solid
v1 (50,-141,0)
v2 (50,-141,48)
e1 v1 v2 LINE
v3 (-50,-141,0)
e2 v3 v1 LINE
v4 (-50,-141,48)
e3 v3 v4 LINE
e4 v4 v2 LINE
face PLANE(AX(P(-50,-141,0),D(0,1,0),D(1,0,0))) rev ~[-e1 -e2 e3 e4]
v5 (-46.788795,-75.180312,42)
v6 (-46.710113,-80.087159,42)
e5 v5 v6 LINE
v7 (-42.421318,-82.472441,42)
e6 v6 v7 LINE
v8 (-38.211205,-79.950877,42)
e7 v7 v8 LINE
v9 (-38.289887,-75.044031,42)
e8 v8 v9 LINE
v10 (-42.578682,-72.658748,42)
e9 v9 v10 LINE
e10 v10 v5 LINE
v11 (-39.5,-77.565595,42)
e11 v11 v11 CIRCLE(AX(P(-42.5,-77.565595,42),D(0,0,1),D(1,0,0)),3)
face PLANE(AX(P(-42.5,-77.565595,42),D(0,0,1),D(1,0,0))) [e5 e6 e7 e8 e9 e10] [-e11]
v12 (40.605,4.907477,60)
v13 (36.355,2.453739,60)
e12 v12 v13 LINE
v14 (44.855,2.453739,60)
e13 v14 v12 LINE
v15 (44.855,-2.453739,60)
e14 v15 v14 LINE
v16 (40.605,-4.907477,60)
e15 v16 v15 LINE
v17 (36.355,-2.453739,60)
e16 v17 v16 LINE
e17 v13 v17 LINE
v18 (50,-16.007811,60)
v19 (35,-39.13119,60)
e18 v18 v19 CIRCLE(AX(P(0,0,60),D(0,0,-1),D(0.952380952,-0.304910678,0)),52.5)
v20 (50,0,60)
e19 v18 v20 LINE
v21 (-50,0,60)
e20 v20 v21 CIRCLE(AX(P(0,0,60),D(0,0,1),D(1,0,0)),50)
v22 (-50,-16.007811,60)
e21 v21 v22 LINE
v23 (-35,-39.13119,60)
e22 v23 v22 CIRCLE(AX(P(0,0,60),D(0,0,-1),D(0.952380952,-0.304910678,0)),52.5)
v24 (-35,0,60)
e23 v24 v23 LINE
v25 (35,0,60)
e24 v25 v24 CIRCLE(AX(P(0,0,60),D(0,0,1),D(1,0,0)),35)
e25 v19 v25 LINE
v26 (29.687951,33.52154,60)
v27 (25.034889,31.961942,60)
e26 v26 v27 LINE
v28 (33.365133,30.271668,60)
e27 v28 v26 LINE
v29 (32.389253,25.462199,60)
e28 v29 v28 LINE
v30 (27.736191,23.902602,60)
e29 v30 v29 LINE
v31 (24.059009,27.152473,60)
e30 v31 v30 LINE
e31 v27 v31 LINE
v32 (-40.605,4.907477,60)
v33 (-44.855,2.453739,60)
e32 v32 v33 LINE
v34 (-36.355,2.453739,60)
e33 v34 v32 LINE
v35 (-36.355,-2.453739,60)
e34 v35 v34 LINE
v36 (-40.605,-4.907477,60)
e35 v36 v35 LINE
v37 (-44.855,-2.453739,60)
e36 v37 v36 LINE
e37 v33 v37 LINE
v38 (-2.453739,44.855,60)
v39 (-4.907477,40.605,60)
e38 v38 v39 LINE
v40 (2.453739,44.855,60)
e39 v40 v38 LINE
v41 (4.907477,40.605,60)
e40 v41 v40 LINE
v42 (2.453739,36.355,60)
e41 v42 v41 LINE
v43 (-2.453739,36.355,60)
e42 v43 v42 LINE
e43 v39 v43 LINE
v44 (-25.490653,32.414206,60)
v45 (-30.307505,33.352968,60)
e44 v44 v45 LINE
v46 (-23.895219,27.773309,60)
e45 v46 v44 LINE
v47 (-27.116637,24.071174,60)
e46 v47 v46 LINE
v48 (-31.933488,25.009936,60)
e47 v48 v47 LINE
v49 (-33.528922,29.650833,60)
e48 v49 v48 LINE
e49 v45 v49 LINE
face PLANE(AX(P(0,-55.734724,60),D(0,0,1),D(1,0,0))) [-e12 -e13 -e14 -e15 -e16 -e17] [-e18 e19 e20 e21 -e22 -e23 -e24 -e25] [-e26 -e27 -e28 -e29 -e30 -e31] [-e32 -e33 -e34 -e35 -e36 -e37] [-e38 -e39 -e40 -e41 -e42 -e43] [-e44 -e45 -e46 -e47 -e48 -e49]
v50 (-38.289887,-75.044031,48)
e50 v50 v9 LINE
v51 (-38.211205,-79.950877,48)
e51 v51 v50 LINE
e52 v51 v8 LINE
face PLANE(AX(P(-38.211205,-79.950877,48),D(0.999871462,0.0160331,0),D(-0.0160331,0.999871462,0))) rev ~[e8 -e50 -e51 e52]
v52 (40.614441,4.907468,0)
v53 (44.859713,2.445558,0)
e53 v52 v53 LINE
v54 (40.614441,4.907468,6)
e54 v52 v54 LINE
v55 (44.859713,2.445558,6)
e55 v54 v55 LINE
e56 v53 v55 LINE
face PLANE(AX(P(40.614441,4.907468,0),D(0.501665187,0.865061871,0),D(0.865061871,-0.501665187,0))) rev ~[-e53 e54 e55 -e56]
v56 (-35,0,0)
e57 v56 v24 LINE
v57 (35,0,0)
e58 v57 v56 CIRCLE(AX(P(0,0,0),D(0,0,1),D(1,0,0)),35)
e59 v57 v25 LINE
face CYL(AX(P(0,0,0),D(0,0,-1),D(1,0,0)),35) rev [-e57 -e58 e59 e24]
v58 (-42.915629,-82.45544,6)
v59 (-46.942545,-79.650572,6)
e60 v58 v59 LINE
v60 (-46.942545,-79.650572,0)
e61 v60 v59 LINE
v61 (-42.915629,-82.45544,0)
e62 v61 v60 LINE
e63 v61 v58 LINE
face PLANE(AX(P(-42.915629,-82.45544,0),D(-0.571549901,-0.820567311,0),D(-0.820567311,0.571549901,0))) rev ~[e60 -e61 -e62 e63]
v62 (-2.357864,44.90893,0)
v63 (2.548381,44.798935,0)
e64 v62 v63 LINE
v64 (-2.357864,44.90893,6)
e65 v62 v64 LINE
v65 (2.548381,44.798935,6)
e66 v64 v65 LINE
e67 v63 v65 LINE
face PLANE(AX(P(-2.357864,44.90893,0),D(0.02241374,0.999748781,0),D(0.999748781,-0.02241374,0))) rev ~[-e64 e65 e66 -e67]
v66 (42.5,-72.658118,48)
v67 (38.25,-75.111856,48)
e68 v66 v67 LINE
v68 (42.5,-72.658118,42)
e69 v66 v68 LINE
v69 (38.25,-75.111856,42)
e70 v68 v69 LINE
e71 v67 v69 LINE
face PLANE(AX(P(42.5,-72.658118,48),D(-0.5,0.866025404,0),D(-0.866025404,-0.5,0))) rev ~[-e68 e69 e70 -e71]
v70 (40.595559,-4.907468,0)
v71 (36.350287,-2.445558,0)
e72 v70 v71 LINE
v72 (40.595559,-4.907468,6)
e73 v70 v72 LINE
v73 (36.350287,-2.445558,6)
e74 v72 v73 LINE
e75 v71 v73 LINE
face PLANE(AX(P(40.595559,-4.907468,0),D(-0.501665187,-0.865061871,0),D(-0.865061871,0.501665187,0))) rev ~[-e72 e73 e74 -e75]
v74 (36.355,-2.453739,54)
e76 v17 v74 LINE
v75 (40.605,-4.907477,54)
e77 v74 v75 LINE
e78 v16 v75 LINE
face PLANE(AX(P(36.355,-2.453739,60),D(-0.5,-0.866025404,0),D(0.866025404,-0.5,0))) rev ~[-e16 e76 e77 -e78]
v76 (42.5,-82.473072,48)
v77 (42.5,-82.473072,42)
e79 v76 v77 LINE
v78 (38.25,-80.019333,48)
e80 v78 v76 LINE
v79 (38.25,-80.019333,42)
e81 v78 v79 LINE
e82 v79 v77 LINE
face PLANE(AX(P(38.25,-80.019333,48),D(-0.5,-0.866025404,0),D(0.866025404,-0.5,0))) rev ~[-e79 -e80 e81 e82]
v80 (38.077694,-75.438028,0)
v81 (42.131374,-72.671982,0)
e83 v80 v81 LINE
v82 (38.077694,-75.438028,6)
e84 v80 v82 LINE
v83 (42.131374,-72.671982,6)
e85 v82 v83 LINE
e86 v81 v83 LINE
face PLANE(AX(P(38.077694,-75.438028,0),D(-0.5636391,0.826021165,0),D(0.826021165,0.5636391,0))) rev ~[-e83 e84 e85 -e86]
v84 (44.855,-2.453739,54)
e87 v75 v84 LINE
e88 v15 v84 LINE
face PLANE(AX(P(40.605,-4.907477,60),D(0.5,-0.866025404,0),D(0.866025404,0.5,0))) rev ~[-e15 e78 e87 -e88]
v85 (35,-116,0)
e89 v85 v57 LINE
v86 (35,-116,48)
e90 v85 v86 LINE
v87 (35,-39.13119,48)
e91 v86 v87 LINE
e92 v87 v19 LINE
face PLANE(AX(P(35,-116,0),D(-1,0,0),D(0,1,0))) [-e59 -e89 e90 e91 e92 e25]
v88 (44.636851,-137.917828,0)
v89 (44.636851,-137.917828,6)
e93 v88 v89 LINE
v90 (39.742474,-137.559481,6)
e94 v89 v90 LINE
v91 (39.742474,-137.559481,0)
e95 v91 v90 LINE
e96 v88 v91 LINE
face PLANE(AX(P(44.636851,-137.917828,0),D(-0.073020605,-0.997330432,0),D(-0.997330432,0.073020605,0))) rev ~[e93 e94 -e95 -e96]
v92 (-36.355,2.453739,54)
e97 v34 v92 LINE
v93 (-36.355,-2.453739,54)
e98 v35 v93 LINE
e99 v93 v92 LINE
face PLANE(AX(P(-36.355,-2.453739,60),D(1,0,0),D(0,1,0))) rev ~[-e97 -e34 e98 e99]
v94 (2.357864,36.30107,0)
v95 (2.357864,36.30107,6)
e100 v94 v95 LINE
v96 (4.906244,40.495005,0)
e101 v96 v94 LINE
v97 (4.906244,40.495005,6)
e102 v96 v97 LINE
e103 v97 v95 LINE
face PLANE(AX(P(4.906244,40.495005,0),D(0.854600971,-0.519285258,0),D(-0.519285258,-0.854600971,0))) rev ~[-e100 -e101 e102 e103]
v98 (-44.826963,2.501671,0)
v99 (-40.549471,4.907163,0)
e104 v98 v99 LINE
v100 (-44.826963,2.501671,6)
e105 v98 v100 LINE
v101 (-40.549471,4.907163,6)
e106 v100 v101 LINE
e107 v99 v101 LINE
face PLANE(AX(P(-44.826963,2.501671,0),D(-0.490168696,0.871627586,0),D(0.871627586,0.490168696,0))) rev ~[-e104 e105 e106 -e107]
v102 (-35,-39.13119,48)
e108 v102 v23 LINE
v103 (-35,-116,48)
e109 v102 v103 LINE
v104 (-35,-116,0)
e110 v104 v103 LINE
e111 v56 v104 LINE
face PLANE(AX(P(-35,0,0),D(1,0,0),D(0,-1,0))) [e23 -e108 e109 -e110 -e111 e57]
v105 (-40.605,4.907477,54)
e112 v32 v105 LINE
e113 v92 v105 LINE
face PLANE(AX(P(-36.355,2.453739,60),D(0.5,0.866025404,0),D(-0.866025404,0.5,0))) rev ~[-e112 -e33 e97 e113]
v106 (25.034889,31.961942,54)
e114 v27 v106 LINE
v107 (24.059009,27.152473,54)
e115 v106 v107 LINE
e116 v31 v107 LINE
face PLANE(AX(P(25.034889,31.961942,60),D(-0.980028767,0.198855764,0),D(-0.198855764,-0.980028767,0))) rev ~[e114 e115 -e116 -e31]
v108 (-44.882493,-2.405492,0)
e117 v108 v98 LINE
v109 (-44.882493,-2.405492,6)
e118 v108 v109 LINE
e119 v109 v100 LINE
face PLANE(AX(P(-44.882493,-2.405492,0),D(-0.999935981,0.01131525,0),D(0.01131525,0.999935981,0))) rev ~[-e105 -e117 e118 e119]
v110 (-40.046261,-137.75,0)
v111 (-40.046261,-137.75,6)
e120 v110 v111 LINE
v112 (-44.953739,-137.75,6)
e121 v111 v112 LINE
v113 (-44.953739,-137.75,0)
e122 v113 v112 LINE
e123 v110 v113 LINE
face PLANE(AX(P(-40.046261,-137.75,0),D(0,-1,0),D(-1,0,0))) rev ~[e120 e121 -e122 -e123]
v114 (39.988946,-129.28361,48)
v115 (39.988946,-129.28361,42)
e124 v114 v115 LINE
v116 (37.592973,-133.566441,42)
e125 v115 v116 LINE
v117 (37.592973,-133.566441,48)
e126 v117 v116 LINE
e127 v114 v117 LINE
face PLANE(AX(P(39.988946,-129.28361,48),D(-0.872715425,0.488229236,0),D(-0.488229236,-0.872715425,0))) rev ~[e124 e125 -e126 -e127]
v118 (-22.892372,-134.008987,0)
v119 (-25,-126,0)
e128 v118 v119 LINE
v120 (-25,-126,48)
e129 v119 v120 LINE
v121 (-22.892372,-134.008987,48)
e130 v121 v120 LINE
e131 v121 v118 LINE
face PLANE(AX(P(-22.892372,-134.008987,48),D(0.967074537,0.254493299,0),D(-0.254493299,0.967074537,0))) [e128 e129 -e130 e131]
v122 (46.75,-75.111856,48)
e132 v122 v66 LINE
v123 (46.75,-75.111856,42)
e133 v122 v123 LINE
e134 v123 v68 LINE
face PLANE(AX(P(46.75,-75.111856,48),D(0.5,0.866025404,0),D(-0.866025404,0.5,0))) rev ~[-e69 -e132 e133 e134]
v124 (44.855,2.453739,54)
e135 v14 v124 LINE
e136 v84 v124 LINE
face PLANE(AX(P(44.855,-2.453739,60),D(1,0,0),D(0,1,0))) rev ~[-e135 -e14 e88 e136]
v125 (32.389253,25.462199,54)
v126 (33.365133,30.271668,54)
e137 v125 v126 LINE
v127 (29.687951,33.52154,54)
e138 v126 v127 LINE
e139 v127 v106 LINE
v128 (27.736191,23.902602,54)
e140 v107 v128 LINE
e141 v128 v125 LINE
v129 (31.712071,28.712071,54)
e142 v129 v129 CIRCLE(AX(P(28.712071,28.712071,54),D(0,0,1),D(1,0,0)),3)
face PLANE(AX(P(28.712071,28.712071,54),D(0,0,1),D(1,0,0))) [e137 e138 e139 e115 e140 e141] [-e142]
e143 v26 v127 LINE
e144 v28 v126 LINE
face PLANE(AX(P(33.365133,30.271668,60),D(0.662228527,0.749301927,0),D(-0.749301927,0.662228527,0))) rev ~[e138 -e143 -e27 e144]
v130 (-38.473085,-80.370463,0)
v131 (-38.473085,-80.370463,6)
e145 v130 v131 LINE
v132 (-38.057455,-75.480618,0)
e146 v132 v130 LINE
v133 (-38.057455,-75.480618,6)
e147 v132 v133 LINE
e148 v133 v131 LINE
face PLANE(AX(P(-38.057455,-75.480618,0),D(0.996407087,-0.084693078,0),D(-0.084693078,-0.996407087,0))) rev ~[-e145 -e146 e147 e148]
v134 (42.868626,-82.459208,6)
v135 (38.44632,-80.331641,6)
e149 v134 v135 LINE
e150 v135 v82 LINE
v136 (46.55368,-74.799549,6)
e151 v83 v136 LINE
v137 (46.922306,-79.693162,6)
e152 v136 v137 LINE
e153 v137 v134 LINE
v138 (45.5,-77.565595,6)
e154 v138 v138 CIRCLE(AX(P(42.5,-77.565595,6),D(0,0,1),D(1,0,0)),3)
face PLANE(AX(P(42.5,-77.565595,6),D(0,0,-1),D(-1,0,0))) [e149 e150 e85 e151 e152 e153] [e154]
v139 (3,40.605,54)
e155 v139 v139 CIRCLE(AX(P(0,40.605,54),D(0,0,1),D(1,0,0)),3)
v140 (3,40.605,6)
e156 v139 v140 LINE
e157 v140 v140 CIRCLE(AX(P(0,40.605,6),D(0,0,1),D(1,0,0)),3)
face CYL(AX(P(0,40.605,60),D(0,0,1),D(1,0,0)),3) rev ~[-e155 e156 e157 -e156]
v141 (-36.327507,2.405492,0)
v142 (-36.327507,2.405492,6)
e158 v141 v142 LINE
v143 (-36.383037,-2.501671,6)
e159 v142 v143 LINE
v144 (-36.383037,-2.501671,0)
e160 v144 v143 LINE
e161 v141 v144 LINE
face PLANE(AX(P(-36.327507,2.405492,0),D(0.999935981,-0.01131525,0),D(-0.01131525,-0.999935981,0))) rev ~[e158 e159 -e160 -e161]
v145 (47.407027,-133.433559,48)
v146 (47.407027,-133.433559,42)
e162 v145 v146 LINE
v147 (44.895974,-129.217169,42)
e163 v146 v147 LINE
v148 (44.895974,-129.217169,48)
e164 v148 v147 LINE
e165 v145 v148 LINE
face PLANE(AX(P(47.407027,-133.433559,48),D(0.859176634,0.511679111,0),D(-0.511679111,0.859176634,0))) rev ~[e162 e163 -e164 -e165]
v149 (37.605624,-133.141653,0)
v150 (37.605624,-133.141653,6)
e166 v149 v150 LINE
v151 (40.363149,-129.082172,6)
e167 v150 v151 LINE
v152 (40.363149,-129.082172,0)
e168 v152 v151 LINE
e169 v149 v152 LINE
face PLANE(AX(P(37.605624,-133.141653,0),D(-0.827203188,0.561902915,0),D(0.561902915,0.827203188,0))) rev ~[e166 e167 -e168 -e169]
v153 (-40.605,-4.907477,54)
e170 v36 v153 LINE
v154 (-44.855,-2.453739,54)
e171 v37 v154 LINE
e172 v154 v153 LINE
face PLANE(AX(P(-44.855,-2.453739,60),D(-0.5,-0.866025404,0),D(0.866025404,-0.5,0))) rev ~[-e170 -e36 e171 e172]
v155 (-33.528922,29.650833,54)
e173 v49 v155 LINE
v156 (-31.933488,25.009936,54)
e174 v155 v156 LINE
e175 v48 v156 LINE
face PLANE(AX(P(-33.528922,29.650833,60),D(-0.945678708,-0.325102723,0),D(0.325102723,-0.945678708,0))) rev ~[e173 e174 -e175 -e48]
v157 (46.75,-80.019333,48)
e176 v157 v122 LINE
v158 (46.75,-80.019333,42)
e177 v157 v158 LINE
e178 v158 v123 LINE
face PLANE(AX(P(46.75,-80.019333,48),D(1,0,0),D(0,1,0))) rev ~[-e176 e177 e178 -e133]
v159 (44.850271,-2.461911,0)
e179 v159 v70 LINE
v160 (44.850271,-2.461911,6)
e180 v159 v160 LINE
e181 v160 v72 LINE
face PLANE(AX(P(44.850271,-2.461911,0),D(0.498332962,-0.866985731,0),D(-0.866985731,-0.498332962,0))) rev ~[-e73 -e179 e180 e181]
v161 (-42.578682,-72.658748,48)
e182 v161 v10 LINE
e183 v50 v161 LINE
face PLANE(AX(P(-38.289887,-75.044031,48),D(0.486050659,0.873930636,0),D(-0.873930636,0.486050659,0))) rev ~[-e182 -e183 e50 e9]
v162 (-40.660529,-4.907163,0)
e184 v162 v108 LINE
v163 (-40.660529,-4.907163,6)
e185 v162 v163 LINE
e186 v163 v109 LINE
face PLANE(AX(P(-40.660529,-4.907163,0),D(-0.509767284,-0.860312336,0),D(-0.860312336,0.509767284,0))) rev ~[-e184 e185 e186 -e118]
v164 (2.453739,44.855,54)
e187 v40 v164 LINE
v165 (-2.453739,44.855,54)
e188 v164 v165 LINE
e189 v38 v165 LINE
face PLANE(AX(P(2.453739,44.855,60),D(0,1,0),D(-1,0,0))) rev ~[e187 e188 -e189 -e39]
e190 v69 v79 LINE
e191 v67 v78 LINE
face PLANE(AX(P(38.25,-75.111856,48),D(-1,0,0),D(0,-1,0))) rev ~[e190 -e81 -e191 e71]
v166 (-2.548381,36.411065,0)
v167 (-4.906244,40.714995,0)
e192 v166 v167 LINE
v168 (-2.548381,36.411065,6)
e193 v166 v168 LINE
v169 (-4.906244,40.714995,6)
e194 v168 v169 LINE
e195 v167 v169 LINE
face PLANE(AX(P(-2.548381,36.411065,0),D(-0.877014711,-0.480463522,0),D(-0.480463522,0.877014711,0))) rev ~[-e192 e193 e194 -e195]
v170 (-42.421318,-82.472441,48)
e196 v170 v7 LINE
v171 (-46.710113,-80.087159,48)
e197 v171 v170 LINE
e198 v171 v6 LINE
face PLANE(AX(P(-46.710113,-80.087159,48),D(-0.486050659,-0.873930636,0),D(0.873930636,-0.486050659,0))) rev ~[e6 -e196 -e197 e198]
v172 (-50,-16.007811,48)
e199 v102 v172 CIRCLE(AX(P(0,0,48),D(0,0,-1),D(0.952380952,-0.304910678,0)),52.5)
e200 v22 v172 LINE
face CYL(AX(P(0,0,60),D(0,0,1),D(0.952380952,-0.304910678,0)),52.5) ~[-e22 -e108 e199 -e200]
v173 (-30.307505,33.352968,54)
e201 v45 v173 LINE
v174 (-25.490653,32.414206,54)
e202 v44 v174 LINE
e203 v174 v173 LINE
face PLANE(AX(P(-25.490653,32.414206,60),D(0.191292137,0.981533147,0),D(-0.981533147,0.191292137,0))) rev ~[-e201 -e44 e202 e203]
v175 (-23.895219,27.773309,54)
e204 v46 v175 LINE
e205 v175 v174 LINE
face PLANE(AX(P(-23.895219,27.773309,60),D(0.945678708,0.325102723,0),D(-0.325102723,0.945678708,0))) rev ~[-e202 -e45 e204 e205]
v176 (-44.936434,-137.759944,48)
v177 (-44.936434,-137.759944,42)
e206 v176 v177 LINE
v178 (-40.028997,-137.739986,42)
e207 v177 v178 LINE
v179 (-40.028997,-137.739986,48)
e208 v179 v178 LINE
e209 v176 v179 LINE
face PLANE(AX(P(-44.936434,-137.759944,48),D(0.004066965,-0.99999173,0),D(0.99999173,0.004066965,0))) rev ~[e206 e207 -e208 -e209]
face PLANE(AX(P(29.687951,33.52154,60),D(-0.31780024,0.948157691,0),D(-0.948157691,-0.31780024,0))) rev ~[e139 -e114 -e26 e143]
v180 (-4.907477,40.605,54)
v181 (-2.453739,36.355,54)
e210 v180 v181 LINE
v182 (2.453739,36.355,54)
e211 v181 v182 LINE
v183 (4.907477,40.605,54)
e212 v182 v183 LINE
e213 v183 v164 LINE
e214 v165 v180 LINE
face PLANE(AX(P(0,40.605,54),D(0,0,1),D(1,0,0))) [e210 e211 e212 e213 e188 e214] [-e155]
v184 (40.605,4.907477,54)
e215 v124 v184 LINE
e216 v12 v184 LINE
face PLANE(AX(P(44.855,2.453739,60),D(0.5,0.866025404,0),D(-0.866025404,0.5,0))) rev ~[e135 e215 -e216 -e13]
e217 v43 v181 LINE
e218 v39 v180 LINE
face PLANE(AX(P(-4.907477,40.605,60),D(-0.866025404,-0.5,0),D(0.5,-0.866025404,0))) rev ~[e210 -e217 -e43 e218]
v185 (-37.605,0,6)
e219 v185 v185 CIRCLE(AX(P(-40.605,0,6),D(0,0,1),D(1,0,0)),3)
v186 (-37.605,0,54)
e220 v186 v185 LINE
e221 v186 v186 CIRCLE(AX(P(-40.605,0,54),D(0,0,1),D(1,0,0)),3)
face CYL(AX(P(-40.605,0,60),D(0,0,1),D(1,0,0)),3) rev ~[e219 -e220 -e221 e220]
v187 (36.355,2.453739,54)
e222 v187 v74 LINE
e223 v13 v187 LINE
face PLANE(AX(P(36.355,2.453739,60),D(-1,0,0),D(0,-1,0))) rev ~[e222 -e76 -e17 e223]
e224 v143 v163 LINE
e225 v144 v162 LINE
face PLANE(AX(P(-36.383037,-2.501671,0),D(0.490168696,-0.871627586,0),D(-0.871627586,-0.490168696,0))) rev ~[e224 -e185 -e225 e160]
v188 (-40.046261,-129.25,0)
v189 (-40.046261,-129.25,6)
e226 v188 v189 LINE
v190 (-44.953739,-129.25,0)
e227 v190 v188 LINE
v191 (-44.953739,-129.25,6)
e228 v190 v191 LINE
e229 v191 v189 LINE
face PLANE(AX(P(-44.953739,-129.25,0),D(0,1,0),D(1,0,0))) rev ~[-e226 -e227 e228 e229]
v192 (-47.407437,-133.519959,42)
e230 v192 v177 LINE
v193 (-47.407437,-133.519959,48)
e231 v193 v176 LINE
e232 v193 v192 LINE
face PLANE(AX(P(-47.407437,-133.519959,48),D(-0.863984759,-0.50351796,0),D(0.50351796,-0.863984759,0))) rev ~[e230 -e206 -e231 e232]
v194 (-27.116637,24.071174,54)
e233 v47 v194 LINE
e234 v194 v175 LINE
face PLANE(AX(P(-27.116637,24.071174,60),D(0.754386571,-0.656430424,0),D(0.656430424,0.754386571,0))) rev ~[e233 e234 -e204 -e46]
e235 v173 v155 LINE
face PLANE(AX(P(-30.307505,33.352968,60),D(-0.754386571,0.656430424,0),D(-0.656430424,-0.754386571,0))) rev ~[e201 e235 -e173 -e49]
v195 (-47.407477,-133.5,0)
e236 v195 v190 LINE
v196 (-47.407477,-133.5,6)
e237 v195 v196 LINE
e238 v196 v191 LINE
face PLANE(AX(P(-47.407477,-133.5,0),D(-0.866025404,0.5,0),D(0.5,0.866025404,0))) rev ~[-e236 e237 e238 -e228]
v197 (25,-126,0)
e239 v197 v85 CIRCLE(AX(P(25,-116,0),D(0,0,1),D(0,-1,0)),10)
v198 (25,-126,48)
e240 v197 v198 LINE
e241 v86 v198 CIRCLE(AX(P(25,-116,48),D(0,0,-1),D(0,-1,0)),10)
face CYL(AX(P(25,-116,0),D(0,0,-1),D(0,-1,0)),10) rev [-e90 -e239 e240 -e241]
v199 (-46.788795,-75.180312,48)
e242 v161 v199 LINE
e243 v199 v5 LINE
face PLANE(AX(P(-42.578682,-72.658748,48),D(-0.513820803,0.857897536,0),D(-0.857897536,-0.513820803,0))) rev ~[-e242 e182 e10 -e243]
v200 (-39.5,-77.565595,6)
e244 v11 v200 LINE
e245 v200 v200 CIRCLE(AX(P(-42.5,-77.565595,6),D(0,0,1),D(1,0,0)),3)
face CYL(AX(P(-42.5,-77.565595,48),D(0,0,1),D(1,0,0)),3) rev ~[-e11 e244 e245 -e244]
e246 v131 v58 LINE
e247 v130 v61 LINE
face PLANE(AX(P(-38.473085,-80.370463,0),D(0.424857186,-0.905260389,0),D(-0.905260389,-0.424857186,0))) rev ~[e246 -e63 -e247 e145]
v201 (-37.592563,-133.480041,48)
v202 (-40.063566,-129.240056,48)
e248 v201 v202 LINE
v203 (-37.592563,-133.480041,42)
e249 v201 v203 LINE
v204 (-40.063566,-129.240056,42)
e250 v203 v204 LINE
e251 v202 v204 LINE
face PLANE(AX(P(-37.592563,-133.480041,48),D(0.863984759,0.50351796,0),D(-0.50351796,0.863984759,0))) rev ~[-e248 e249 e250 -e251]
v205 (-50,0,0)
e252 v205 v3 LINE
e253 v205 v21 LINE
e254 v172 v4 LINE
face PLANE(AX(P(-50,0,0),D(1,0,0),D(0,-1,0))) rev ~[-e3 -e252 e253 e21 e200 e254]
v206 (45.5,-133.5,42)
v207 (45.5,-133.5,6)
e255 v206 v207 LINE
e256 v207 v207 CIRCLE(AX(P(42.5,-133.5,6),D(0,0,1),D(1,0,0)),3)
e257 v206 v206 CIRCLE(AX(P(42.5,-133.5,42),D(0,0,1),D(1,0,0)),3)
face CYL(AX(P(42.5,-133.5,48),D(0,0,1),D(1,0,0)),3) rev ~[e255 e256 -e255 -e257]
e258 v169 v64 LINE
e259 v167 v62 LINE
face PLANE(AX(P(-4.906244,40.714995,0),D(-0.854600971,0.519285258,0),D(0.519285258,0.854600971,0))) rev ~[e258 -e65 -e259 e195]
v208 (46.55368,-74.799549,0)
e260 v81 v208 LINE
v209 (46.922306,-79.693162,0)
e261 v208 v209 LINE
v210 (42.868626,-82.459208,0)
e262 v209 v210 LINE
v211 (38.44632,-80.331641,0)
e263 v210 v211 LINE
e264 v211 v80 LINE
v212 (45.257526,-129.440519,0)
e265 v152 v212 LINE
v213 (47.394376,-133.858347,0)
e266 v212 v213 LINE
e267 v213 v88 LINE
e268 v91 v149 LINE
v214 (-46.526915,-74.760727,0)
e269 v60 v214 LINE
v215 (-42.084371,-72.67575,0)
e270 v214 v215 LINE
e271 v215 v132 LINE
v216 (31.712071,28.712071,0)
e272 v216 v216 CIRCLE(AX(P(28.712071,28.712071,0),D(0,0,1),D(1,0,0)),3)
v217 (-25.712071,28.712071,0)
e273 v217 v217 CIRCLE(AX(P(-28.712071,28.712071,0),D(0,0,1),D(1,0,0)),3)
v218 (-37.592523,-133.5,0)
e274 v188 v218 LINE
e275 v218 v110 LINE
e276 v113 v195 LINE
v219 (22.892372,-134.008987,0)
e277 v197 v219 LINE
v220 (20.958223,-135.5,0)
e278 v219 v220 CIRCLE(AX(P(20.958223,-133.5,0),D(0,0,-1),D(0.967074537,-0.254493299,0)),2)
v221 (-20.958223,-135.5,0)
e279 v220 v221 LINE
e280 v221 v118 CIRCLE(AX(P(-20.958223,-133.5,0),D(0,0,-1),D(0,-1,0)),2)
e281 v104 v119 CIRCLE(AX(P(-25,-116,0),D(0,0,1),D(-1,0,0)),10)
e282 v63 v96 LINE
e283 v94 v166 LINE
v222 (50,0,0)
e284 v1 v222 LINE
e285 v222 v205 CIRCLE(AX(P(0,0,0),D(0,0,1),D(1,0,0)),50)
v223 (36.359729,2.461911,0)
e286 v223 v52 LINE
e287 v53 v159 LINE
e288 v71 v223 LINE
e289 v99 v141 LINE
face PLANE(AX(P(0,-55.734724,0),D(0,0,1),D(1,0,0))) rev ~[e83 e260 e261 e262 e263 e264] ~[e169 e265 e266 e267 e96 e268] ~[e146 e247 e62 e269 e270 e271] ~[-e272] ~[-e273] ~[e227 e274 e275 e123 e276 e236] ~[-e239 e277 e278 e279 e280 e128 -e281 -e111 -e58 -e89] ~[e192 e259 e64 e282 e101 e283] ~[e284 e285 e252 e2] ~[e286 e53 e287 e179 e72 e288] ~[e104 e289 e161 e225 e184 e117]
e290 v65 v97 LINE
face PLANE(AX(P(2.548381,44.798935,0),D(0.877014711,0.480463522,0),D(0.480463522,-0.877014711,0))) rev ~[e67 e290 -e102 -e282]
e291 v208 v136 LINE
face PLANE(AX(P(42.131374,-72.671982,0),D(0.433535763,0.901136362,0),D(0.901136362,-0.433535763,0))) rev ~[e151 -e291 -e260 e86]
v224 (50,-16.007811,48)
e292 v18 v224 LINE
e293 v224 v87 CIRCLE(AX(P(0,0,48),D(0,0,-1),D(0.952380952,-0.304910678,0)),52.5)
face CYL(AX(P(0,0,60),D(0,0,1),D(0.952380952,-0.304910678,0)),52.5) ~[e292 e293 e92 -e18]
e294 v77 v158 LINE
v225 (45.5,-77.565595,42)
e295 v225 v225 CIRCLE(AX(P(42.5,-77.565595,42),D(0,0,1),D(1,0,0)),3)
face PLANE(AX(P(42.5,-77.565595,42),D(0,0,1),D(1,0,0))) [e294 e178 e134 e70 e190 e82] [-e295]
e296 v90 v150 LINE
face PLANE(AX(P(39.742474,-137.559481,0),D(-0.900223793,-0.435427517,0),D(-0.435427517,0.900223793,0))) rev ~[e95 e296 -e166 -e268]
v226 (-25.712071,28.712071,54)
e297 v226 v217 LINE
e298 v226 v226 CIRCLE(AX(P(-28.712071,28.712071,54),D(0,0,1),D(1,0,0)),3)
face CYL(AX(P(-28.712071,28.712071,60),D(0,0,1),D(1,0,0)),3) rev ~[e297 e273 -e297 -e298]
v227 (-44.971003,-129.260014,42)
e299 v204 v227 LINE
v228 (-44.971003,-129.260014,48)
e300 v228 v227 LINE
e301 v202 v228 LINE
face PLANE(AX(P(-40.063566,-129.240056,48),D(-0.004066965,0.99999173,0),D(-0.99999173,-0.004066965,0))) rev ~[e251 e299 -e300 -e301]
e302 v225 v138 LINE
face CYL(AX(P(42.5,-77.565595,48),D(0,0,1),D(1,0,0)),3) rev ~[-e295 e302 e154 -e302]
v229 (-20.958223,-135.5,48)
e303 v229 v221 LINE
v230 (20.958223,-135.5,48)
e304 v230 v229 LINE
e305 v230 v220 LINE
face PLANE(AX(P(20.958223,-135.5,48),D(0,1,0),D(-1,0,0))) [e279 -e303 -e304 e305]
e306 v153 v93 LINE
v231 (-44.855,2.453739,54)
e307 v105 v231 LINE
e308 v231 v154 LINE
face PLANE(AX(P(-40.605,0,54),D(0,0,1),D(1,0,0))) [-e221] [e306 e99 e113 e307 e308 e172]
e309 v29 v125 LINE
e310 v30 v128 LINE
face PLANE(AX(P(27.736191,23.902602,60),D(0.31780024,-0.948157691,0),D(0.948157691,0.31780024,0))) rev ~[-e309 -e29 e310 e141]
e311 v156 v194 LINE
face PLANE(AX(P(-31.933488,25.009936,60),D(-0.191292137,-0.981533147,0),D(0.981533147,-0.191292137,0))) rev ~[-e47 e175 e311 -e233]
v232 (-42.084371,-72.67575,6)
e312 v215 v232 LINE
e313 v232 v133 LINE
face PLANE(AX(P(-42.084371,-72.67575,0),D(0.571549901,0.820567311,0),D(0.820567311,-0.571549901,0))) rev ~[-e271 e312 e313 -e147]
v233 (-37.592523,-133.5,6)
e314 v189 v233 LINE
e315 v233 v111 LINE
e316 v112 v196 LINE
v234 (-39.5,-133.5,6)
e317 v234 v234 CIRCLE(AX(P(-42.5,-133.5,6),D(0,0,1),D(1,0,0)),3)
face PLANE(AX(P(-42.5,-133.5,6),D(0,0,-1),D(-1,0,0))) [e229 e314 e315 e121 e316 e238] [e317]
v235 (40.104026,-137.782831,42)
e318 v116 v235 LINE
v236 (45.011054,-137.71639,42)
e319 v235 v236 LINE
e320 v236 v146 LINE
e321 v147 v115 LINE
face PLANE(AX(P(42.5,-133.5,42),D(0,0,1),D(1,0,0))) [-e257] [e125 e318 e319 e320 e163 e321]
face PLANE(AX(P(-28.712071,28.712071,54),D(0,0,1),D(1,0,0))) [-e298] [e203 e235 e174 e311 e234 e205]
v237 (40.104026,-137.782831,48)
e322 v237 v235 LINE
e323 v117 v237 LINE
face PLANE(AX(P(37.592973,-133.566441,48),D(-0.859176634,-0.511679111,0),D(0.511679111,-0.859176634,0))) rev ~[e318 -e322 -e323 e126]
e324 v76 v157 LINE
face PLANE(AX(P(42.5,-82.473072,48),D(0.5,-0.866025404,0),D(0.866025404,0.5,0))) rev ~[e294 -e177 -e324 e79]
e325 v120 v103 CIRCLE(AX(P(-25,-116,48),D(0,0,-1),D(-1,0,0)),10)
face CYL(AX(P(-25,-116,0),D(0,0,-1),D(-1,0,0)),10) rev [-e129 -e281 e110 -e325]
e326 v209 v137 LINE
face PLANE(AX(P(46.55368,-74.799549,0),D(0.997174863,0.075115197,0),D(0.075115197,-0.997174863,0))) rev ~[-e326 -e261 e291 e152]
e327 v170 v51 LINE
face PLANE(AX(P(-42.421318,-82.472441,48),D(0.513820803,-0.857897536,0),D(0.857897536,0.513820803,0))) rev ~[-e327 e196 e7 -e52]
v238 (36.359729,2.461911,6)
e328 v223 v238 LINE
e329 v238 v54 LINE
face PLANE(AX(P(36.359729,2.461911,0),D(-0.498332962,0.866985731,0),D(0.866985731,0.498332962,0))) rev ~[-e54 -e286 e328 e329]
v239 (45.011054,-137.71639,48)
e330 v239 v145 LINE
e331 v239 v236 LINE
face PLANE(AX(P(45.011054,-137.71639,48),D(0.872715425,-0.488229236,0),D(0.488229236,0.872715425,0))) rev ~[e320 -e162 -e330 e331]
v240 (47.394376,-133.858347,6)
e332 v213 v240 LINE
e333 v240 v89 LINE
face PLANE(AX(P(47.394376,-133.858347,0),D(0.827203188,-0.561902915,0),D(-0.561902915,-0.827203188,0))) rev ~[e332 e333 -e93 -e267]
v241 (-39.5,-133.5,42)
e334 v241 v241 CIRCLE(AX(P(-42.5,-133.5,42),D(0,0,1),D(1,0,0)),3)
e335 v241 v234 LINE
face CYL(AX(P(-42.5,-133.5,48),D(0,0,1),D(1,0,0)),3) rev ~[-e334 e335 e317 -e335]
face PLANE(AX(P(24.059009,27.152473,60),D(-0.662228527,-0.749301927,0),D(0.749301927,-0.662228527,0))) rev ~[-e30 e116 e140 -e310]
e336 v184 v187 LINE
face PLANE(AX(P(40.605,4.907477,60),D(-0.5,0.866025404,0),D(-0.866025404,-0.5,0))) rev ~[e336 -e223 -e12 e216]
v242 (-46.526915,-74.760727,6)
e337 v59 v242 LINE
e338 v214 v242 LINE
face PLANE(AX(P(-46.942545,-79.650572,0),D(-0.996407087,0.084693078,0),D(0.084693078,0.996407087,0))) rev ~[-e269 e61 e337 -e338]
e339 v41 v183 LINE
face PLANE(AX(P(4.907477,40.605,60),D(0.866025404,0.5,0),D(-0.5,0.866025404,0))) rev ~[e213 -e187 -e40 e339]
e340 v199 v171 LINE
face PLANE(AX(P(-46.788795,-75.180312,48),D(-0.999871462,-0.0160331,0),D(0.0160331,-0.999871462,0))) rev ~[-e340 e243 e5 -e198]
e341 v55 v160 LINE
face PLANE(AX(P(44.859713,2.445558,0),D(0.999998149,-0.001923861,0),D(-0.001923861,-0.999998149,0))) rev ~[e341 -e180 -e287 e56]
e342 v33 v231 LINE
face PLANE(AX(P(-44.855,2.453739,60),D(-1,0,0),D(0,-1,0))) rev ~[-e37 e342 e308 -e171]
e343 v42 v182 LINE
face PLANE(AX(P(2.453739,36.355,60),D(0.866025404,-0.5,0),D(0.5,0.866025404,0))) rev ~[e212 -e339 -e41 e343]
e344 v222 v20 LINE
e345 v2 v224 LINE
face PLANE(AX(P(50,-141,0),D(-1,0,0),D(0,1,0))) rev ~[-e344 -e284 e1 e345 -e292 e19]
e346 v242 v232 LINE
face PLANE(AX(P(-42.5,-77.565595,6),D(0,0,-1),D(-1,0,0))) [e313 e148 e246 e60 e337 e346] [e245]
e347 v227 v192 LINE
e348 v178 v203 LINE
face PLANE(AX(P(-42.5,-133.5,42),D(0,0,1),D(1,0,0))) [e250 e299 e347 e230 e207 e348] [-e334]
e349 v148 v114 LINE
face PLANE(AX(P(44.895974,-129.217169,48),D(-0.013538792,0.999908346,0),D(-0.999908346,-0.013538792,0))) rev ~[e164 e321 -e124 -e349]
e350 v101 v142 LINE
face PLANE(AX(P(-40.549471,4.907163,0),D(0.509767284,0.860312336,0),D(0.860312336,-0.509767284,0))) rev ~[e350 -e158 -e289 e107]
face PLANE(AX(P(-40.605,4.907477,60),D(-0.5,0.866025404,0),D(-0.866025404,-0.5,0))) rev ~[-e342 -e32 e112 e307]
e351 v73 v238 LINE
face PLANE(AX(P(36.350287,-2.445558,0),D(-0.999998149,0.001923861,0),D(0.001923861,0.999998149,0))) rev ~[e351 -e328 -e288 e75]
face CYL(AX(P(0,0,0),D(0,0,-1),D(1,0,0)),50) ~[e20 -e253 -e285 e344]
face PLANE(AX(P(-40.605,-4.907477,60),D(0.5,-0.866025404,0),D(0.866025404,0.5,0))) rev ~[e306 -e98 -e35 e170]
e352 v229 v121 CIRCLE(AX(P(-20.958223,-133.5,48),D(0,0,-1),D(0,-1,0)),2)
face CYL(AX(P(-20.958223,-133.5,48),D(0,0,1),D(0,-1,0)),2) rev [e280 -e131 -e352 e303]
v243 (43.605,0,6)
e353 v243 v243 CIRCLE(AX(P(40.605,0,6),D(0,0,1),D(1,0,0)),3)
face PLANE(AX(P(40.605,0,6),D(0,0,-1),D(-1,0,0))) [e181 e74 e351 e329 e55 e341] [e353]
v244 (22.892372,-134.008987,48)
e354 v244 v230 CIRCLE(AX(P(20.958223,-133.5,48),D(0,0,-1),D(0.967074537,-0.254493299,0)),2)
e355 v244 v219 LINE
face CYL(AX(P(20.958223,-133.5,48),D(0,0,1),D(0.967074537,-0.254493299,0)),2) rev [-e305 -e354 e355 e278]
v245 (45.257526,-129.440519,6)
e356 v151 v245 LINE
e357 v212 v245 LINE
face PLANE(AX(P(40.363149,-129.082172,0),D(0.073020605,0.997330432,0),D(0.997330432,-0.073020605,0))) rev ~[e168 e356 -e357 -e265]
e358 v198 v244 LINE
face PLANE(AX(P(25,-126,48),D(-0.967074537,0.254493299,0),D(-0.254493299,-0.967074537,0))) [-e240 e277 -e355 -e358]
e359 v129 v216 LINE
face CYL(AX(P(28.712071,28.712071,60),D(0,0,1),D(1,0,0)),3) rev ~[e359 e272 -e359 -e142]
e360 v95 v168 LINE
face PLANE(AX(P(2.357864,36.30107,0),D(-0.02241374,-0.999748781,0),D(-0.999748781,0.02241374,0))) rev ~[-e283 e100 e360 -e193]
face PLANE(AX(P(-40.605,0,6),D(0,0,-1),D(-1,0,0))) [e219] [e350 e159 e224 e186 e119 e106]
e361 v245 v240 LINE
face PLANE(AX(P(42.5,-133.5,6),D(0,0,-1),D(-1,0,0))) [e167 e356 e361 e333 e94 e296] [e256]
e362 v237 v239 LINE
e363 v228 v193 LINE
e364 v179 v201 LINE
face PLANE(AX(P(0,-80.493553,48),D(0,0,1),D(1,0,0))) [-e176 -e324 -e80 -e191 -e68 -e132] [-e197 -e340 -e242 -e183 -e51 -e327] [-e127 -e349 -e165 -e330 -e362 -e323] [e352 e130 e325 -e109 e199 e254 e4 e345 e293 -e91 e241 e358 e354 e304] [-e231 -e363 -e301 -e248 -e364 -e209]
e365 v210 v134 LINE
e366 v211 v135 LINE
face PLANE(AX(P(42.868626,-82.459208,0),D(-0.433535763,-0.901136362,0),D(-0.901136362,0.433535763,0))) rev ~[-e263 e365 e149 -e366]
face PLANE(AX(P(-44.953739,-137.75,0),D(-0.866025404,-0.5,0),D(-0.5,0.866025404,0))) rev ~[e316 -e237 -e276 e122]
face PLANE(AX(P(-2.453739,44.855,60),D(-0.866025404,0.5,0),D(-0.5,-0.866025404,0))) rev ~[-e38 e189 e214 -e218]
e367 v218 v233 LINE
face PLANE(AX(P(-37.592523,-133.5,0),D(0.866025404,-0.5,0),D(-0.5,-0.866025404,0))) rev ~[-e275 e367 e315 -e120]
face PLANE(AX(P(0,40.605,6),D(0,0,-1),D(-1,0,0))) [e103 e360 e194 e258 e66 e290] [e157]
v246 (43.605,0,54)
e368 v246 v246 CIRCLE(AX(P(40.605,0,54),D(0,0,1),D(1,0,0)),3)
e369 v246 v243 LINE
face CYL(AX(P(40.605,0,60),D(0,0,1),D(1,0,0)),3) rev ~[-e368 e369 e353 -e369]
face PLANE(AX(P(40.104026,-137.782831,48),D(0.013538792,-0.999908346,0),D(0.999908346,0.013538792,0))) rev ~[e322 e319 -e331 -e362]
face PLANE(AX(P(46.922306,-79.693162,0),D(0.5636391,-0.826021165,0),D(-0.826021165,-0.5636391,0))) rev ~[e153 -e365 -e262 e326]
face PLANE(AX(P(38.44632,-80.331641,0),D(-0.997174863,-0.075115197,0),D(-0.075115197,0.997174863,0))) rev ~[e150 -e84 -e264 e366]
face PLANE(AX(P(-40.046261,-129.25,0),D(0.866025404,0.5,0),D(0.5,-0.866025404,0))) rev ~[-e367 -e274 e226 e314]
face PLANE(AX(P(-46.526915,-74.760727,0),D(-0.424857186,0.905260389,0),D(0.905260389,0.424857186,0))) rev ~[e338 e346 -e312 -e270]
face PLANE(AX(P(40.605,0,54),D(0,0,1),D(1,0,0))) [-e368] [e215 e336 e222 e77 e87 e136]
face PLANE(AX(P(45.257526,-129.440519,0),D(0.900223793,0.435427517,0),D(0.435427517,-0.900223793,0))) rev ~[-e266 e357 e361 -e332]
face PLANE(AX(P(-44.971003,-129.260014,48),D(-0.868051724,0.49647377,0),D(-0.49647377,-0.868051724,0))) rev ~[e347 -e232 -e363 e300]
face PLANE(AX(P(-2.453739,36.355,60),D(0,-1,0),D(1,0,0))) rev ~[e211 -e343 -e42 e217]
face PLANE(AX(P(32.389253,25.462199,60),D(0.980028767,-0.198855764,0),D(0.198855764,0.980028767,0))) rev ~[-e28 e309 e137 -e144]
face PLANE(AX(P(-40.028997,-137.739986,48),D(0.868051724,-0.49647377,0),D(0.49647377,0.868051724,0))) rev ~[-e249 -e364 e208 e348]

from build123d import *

# Parameters (mm, degrees)
SALIENTE_EXTRUIR1_DEPTH = 60
CROQUIS2_R              = 3
CORTAR_EXTRUIR1_DEPTH   = 60
CORTAR_EXTRUIR2_DEPTH   = 6
CORTAR_EXTRUIR3_DEPTH   = 12
CROQUIS5_R              = 3
CORTAR_EXTRUIR4_DEPTH   = 48
CORTAR_EXTRUIR5_DEPTH   = 6
CORTAR_EXTRUIR6_DEPTH   = 6
CORTAR_EXTRUIR7_DEPTH   = 48


with BuildPart() as part:
    # Croquis1 → Saliente-Extruir1 (new body)
    with BuildSketch(Plane.XY):
        with BuildLine():
            Line((-50, 0), (-50, -141))
            Line((-50, -141), (50, -141))
            Line((50, -141), (50, 0))
            ThreePointArc((50, 0), (0, 50), (-50, 0))
        make_face()
        with BuildLine():
            Line((-35, 0), (-35, -116))
            ThreePointArc((-35, -116), (-32.071067812, -123.071067812), (-25, -126))
            Line((-25, -126), (25, -126))
            ThreePointArc((25, -126), (32.071067812, -123.071067812), (35, -116))
            Line((35, -116), (35, 0))
            ThreePointArc((35, 0), (0, 35), (-35, 0))
        make_face(mode=Mode.SUBTRACT)
    extrude(amount=SALIENTE_EXTRUIR1_DEPTH)

    # Croquis2 → Cortar-Extruir1 (cut)
    with BuildSketch(Plane.XY.offset(60)):
        with Locations((0, 40.605)):
            Circle(CROQUIS2_R)
        with Locations((28.71207085, 28.71207085)):
            Circle(CROQUIS2_R)
        with Locations((40.605, 0)):
            Circle(CROQUIS2_R)
        with Locations((-40.605, 0)):
            Circle(CROQUIS2_R)
        with Locations((-28.71207085, 28.71207085)):
            Circle(CROQUIS2_R)
    extrude(amount=-CORTAR_EXTRUIR1_DEPTH, mode=Mode.SUBTRACT)

    # Croquis3 → Cortar-Extruir2 (cut)
    with BuildSketch(Plane.XY.offset(60)):
        Polygon((4.907477288, 40.605), (2.453738644, 44.855), (-2.453738644, 44.855), (-4.907477288, 40.605), (-2.453738644, 36.355), (2.453738644, 36.355), align=None)
        Polygon((33.365133185, 30.271668311), (29.687950997, 33.521539768), (25.034888662, 31.961942307), (24.059008515, 27.152473389), (27.736190704, 23.902601932), (32.389253039, 25.462199393), align=None)
        Polygon((40.605, -4.907477288), (44.855, -2.453738644), (44.855, 2.453738644), (40.605, 4.907477288), (36.355, 2.453738644), (36.355, -2.453738644), align=None)
        Polygon((-33.528922476, 29.650832668), (-31.933488245, 25.009935885), (-27.11663662, 24.071174067), (-23.895219225, 27.773309032), (-25.490653455, 32.414205815), (-30.30750508, 33.352967633), align=None)
        Polygon((-40.605, 4.907477288), (-44.855, 2.453738644), (-44.855, -2.453738644), (-40.605, -4.907477288), (-36.355, -2.453738644), (-36.355, 2.453738644), align=None)
    extrude(amount=-CORTAR_EXTRUIR2_DEPTH, mode=Mode.SUBTRACT)

    # Croquis4 → Cortar-Extruir3 (cut)
    with BuildSketch(Plane.XY.offset(60)):
        with BuildLine():
            Line((-50, -16.007810594), (-50, -141))
            Line((-50, -141), (50, -141))
            Line((50, -141), (50, -16.007810594))
            ThreePointArc((50, -16.007810594), (0, -52.5), (-50, -16.007810594))
        make_face()
    extrude(amount=-CORTAR_EXTRUIR3_DEPTH, mode=Mode.SUBTRACT)

    # Croquis5 → Cortar-Extruir4 (cut)
    with BuildSketch(Plane.XY.offset(48)):
        with Locations((-42.5, -77.565594803)):
            Circle(CROQUIS5_R)
        with Locations((-42.5, -133.5)):
            Circle(CROQUIS5_R)
        with Locations((42.5, -77.565594803)):
            Circle(CROQUIS5_R)
        with Locations((42.5, -133.5)):
            Circle(CROQUIS5_R)
    extrude(amount=-CORTAR_EXTRUIR4_DEPTH, mode=Mode.SUBTRACT)

    # Croquis6 → Cortar-Extruir5 (cut)
    with BuildSketch(Plane.XY.offset(48)):
        Polygon((-42.421317924, -82.472441292), (-38.21120525, -79.950877371), (-38.289887326, -75.044030882), (-42.578682076, -72.658748314), (-46.78879475, -75.180312235), (-46.710112674, -80.087158724), align=None)
        Polygon((42.5, -82.473072091), (46.75, -80.019333447), (46.75, -75.111856159), (42.5, -72.658117515), (38.25, -75.111856159), (38.25, -80.019333447), align=None)
        Polygon((-40.063566251, -129.240055878), (-44.971002953, -129.260014418), (-47.407436703, -133.519958539), (-44.936433749, -137.759944122), (-40.028997047, -137.739985582), (-37.592563297, -133.480041461), align=None)
        Polygon((44.895973885, -129.217168871), (39.988946385, -129.283610185), (37.5929725, -133.566441313), (40.104026115, -137.782831129), (45.011053615, -137.716389815), (47.4070275, -133.433558687), align=None)
    extrude(amount=-CORTAR_EXTRUIR5_DEPTH, mode=Mode.SUBTRACT)

    # Croquis7 → Cortar-Extruir6 (cut)
    with BuildSketch(Plane(origin=(0, 0, 0), x_dir=(-1, 0, 0), z_dir=(0, 0, -1))):
        Polygon((2.357863822, 44.908929778), (-2.548380612, 44.798934857), (-4.906244434, 40.49500508), (-2.357863822, 36.301070222), (2.548380612, 36.411065143), (4.906244434, 40.71499492), align=None)
        Polygon((-40.614441302, 4.907468206), (-44.859712786, 2.445557696), (-44.850271484, -2.461910511), (-40.595558698, -4.907468206), (-36.350287214, -2.445557696), (-36.359728516, 2.461910511), align=None)
        Polygon((44.882492584, -2.405491744), (44.826963251, 2.50167137), (40.549470667, 4.907163114), (36.327507416, 2.405491744), (36.383036749, -2.50167137), (40.660529333, -4.907163114), align=None)
        Polygon((-42.131373877, -72.671981811), (-46.553680106, -74.79954872), (-46.922306229, -79.693161712), (-42.868626123, -82.459207795), (-38.446319894, -80.331640886), (-38.077693771, -75.438027894), align=None)
        Polygon((42.084370643, -72.675749655), (38.057455203, -75.480617811), (38.47308456, -80.370462959), (42.915629357, -82.455439951), (46.942544797, -79.650571795), (46.52691544, -74.760726647), align=None)
        Polygon((47.407477288, -133.5), (44.953738644, -129.25), (40.046261356, -129.25), (37.592522712, -133.5), (40.046261356, -137.75), (44.953738644, -137.75), align=None)
        Polygon((-44.636850652, -137.917827818), (-39.742474206, -137.559480857), (-37.605623555, -133.14165304), (-40.363149348, -129.082172182), (-45.257525794, -129.440519143), (-47.394376445, -133.85834696), align=None)
    extrude(amount=-CORTAR_EXTRUIR6_DEPTH, mode=Mode.SUBTRACT)

    # Croquis8 → Cortar-Extruir7 (cut)
    with BuildSketch(Plane.XY.offset(48)):
        with BuildLine():
            Line((-22.892371948, -134.008986599), (-25, -126))
            Line((-25, -126), (25, -126))
            Line((25, -126), (22.892371948, -134.008986599))
            ThreePointArc((22.892371948, -134.008986599), (22.17929347, -135.083978093), (20.958222873, -135.5))
            Line((20.958222873, -135.5), (-20.958222873, -135.5))
            ThreePointArc((-20.958222873, -135.5), (-22.17929347, -135.083978093), (-22.892371948, -134.008986599))
        make_face()
    extrude(amount=-CORTAR_EXTRUIR7_DEPTH, mode=Mode.SUBTRACT)


solid = part.part
